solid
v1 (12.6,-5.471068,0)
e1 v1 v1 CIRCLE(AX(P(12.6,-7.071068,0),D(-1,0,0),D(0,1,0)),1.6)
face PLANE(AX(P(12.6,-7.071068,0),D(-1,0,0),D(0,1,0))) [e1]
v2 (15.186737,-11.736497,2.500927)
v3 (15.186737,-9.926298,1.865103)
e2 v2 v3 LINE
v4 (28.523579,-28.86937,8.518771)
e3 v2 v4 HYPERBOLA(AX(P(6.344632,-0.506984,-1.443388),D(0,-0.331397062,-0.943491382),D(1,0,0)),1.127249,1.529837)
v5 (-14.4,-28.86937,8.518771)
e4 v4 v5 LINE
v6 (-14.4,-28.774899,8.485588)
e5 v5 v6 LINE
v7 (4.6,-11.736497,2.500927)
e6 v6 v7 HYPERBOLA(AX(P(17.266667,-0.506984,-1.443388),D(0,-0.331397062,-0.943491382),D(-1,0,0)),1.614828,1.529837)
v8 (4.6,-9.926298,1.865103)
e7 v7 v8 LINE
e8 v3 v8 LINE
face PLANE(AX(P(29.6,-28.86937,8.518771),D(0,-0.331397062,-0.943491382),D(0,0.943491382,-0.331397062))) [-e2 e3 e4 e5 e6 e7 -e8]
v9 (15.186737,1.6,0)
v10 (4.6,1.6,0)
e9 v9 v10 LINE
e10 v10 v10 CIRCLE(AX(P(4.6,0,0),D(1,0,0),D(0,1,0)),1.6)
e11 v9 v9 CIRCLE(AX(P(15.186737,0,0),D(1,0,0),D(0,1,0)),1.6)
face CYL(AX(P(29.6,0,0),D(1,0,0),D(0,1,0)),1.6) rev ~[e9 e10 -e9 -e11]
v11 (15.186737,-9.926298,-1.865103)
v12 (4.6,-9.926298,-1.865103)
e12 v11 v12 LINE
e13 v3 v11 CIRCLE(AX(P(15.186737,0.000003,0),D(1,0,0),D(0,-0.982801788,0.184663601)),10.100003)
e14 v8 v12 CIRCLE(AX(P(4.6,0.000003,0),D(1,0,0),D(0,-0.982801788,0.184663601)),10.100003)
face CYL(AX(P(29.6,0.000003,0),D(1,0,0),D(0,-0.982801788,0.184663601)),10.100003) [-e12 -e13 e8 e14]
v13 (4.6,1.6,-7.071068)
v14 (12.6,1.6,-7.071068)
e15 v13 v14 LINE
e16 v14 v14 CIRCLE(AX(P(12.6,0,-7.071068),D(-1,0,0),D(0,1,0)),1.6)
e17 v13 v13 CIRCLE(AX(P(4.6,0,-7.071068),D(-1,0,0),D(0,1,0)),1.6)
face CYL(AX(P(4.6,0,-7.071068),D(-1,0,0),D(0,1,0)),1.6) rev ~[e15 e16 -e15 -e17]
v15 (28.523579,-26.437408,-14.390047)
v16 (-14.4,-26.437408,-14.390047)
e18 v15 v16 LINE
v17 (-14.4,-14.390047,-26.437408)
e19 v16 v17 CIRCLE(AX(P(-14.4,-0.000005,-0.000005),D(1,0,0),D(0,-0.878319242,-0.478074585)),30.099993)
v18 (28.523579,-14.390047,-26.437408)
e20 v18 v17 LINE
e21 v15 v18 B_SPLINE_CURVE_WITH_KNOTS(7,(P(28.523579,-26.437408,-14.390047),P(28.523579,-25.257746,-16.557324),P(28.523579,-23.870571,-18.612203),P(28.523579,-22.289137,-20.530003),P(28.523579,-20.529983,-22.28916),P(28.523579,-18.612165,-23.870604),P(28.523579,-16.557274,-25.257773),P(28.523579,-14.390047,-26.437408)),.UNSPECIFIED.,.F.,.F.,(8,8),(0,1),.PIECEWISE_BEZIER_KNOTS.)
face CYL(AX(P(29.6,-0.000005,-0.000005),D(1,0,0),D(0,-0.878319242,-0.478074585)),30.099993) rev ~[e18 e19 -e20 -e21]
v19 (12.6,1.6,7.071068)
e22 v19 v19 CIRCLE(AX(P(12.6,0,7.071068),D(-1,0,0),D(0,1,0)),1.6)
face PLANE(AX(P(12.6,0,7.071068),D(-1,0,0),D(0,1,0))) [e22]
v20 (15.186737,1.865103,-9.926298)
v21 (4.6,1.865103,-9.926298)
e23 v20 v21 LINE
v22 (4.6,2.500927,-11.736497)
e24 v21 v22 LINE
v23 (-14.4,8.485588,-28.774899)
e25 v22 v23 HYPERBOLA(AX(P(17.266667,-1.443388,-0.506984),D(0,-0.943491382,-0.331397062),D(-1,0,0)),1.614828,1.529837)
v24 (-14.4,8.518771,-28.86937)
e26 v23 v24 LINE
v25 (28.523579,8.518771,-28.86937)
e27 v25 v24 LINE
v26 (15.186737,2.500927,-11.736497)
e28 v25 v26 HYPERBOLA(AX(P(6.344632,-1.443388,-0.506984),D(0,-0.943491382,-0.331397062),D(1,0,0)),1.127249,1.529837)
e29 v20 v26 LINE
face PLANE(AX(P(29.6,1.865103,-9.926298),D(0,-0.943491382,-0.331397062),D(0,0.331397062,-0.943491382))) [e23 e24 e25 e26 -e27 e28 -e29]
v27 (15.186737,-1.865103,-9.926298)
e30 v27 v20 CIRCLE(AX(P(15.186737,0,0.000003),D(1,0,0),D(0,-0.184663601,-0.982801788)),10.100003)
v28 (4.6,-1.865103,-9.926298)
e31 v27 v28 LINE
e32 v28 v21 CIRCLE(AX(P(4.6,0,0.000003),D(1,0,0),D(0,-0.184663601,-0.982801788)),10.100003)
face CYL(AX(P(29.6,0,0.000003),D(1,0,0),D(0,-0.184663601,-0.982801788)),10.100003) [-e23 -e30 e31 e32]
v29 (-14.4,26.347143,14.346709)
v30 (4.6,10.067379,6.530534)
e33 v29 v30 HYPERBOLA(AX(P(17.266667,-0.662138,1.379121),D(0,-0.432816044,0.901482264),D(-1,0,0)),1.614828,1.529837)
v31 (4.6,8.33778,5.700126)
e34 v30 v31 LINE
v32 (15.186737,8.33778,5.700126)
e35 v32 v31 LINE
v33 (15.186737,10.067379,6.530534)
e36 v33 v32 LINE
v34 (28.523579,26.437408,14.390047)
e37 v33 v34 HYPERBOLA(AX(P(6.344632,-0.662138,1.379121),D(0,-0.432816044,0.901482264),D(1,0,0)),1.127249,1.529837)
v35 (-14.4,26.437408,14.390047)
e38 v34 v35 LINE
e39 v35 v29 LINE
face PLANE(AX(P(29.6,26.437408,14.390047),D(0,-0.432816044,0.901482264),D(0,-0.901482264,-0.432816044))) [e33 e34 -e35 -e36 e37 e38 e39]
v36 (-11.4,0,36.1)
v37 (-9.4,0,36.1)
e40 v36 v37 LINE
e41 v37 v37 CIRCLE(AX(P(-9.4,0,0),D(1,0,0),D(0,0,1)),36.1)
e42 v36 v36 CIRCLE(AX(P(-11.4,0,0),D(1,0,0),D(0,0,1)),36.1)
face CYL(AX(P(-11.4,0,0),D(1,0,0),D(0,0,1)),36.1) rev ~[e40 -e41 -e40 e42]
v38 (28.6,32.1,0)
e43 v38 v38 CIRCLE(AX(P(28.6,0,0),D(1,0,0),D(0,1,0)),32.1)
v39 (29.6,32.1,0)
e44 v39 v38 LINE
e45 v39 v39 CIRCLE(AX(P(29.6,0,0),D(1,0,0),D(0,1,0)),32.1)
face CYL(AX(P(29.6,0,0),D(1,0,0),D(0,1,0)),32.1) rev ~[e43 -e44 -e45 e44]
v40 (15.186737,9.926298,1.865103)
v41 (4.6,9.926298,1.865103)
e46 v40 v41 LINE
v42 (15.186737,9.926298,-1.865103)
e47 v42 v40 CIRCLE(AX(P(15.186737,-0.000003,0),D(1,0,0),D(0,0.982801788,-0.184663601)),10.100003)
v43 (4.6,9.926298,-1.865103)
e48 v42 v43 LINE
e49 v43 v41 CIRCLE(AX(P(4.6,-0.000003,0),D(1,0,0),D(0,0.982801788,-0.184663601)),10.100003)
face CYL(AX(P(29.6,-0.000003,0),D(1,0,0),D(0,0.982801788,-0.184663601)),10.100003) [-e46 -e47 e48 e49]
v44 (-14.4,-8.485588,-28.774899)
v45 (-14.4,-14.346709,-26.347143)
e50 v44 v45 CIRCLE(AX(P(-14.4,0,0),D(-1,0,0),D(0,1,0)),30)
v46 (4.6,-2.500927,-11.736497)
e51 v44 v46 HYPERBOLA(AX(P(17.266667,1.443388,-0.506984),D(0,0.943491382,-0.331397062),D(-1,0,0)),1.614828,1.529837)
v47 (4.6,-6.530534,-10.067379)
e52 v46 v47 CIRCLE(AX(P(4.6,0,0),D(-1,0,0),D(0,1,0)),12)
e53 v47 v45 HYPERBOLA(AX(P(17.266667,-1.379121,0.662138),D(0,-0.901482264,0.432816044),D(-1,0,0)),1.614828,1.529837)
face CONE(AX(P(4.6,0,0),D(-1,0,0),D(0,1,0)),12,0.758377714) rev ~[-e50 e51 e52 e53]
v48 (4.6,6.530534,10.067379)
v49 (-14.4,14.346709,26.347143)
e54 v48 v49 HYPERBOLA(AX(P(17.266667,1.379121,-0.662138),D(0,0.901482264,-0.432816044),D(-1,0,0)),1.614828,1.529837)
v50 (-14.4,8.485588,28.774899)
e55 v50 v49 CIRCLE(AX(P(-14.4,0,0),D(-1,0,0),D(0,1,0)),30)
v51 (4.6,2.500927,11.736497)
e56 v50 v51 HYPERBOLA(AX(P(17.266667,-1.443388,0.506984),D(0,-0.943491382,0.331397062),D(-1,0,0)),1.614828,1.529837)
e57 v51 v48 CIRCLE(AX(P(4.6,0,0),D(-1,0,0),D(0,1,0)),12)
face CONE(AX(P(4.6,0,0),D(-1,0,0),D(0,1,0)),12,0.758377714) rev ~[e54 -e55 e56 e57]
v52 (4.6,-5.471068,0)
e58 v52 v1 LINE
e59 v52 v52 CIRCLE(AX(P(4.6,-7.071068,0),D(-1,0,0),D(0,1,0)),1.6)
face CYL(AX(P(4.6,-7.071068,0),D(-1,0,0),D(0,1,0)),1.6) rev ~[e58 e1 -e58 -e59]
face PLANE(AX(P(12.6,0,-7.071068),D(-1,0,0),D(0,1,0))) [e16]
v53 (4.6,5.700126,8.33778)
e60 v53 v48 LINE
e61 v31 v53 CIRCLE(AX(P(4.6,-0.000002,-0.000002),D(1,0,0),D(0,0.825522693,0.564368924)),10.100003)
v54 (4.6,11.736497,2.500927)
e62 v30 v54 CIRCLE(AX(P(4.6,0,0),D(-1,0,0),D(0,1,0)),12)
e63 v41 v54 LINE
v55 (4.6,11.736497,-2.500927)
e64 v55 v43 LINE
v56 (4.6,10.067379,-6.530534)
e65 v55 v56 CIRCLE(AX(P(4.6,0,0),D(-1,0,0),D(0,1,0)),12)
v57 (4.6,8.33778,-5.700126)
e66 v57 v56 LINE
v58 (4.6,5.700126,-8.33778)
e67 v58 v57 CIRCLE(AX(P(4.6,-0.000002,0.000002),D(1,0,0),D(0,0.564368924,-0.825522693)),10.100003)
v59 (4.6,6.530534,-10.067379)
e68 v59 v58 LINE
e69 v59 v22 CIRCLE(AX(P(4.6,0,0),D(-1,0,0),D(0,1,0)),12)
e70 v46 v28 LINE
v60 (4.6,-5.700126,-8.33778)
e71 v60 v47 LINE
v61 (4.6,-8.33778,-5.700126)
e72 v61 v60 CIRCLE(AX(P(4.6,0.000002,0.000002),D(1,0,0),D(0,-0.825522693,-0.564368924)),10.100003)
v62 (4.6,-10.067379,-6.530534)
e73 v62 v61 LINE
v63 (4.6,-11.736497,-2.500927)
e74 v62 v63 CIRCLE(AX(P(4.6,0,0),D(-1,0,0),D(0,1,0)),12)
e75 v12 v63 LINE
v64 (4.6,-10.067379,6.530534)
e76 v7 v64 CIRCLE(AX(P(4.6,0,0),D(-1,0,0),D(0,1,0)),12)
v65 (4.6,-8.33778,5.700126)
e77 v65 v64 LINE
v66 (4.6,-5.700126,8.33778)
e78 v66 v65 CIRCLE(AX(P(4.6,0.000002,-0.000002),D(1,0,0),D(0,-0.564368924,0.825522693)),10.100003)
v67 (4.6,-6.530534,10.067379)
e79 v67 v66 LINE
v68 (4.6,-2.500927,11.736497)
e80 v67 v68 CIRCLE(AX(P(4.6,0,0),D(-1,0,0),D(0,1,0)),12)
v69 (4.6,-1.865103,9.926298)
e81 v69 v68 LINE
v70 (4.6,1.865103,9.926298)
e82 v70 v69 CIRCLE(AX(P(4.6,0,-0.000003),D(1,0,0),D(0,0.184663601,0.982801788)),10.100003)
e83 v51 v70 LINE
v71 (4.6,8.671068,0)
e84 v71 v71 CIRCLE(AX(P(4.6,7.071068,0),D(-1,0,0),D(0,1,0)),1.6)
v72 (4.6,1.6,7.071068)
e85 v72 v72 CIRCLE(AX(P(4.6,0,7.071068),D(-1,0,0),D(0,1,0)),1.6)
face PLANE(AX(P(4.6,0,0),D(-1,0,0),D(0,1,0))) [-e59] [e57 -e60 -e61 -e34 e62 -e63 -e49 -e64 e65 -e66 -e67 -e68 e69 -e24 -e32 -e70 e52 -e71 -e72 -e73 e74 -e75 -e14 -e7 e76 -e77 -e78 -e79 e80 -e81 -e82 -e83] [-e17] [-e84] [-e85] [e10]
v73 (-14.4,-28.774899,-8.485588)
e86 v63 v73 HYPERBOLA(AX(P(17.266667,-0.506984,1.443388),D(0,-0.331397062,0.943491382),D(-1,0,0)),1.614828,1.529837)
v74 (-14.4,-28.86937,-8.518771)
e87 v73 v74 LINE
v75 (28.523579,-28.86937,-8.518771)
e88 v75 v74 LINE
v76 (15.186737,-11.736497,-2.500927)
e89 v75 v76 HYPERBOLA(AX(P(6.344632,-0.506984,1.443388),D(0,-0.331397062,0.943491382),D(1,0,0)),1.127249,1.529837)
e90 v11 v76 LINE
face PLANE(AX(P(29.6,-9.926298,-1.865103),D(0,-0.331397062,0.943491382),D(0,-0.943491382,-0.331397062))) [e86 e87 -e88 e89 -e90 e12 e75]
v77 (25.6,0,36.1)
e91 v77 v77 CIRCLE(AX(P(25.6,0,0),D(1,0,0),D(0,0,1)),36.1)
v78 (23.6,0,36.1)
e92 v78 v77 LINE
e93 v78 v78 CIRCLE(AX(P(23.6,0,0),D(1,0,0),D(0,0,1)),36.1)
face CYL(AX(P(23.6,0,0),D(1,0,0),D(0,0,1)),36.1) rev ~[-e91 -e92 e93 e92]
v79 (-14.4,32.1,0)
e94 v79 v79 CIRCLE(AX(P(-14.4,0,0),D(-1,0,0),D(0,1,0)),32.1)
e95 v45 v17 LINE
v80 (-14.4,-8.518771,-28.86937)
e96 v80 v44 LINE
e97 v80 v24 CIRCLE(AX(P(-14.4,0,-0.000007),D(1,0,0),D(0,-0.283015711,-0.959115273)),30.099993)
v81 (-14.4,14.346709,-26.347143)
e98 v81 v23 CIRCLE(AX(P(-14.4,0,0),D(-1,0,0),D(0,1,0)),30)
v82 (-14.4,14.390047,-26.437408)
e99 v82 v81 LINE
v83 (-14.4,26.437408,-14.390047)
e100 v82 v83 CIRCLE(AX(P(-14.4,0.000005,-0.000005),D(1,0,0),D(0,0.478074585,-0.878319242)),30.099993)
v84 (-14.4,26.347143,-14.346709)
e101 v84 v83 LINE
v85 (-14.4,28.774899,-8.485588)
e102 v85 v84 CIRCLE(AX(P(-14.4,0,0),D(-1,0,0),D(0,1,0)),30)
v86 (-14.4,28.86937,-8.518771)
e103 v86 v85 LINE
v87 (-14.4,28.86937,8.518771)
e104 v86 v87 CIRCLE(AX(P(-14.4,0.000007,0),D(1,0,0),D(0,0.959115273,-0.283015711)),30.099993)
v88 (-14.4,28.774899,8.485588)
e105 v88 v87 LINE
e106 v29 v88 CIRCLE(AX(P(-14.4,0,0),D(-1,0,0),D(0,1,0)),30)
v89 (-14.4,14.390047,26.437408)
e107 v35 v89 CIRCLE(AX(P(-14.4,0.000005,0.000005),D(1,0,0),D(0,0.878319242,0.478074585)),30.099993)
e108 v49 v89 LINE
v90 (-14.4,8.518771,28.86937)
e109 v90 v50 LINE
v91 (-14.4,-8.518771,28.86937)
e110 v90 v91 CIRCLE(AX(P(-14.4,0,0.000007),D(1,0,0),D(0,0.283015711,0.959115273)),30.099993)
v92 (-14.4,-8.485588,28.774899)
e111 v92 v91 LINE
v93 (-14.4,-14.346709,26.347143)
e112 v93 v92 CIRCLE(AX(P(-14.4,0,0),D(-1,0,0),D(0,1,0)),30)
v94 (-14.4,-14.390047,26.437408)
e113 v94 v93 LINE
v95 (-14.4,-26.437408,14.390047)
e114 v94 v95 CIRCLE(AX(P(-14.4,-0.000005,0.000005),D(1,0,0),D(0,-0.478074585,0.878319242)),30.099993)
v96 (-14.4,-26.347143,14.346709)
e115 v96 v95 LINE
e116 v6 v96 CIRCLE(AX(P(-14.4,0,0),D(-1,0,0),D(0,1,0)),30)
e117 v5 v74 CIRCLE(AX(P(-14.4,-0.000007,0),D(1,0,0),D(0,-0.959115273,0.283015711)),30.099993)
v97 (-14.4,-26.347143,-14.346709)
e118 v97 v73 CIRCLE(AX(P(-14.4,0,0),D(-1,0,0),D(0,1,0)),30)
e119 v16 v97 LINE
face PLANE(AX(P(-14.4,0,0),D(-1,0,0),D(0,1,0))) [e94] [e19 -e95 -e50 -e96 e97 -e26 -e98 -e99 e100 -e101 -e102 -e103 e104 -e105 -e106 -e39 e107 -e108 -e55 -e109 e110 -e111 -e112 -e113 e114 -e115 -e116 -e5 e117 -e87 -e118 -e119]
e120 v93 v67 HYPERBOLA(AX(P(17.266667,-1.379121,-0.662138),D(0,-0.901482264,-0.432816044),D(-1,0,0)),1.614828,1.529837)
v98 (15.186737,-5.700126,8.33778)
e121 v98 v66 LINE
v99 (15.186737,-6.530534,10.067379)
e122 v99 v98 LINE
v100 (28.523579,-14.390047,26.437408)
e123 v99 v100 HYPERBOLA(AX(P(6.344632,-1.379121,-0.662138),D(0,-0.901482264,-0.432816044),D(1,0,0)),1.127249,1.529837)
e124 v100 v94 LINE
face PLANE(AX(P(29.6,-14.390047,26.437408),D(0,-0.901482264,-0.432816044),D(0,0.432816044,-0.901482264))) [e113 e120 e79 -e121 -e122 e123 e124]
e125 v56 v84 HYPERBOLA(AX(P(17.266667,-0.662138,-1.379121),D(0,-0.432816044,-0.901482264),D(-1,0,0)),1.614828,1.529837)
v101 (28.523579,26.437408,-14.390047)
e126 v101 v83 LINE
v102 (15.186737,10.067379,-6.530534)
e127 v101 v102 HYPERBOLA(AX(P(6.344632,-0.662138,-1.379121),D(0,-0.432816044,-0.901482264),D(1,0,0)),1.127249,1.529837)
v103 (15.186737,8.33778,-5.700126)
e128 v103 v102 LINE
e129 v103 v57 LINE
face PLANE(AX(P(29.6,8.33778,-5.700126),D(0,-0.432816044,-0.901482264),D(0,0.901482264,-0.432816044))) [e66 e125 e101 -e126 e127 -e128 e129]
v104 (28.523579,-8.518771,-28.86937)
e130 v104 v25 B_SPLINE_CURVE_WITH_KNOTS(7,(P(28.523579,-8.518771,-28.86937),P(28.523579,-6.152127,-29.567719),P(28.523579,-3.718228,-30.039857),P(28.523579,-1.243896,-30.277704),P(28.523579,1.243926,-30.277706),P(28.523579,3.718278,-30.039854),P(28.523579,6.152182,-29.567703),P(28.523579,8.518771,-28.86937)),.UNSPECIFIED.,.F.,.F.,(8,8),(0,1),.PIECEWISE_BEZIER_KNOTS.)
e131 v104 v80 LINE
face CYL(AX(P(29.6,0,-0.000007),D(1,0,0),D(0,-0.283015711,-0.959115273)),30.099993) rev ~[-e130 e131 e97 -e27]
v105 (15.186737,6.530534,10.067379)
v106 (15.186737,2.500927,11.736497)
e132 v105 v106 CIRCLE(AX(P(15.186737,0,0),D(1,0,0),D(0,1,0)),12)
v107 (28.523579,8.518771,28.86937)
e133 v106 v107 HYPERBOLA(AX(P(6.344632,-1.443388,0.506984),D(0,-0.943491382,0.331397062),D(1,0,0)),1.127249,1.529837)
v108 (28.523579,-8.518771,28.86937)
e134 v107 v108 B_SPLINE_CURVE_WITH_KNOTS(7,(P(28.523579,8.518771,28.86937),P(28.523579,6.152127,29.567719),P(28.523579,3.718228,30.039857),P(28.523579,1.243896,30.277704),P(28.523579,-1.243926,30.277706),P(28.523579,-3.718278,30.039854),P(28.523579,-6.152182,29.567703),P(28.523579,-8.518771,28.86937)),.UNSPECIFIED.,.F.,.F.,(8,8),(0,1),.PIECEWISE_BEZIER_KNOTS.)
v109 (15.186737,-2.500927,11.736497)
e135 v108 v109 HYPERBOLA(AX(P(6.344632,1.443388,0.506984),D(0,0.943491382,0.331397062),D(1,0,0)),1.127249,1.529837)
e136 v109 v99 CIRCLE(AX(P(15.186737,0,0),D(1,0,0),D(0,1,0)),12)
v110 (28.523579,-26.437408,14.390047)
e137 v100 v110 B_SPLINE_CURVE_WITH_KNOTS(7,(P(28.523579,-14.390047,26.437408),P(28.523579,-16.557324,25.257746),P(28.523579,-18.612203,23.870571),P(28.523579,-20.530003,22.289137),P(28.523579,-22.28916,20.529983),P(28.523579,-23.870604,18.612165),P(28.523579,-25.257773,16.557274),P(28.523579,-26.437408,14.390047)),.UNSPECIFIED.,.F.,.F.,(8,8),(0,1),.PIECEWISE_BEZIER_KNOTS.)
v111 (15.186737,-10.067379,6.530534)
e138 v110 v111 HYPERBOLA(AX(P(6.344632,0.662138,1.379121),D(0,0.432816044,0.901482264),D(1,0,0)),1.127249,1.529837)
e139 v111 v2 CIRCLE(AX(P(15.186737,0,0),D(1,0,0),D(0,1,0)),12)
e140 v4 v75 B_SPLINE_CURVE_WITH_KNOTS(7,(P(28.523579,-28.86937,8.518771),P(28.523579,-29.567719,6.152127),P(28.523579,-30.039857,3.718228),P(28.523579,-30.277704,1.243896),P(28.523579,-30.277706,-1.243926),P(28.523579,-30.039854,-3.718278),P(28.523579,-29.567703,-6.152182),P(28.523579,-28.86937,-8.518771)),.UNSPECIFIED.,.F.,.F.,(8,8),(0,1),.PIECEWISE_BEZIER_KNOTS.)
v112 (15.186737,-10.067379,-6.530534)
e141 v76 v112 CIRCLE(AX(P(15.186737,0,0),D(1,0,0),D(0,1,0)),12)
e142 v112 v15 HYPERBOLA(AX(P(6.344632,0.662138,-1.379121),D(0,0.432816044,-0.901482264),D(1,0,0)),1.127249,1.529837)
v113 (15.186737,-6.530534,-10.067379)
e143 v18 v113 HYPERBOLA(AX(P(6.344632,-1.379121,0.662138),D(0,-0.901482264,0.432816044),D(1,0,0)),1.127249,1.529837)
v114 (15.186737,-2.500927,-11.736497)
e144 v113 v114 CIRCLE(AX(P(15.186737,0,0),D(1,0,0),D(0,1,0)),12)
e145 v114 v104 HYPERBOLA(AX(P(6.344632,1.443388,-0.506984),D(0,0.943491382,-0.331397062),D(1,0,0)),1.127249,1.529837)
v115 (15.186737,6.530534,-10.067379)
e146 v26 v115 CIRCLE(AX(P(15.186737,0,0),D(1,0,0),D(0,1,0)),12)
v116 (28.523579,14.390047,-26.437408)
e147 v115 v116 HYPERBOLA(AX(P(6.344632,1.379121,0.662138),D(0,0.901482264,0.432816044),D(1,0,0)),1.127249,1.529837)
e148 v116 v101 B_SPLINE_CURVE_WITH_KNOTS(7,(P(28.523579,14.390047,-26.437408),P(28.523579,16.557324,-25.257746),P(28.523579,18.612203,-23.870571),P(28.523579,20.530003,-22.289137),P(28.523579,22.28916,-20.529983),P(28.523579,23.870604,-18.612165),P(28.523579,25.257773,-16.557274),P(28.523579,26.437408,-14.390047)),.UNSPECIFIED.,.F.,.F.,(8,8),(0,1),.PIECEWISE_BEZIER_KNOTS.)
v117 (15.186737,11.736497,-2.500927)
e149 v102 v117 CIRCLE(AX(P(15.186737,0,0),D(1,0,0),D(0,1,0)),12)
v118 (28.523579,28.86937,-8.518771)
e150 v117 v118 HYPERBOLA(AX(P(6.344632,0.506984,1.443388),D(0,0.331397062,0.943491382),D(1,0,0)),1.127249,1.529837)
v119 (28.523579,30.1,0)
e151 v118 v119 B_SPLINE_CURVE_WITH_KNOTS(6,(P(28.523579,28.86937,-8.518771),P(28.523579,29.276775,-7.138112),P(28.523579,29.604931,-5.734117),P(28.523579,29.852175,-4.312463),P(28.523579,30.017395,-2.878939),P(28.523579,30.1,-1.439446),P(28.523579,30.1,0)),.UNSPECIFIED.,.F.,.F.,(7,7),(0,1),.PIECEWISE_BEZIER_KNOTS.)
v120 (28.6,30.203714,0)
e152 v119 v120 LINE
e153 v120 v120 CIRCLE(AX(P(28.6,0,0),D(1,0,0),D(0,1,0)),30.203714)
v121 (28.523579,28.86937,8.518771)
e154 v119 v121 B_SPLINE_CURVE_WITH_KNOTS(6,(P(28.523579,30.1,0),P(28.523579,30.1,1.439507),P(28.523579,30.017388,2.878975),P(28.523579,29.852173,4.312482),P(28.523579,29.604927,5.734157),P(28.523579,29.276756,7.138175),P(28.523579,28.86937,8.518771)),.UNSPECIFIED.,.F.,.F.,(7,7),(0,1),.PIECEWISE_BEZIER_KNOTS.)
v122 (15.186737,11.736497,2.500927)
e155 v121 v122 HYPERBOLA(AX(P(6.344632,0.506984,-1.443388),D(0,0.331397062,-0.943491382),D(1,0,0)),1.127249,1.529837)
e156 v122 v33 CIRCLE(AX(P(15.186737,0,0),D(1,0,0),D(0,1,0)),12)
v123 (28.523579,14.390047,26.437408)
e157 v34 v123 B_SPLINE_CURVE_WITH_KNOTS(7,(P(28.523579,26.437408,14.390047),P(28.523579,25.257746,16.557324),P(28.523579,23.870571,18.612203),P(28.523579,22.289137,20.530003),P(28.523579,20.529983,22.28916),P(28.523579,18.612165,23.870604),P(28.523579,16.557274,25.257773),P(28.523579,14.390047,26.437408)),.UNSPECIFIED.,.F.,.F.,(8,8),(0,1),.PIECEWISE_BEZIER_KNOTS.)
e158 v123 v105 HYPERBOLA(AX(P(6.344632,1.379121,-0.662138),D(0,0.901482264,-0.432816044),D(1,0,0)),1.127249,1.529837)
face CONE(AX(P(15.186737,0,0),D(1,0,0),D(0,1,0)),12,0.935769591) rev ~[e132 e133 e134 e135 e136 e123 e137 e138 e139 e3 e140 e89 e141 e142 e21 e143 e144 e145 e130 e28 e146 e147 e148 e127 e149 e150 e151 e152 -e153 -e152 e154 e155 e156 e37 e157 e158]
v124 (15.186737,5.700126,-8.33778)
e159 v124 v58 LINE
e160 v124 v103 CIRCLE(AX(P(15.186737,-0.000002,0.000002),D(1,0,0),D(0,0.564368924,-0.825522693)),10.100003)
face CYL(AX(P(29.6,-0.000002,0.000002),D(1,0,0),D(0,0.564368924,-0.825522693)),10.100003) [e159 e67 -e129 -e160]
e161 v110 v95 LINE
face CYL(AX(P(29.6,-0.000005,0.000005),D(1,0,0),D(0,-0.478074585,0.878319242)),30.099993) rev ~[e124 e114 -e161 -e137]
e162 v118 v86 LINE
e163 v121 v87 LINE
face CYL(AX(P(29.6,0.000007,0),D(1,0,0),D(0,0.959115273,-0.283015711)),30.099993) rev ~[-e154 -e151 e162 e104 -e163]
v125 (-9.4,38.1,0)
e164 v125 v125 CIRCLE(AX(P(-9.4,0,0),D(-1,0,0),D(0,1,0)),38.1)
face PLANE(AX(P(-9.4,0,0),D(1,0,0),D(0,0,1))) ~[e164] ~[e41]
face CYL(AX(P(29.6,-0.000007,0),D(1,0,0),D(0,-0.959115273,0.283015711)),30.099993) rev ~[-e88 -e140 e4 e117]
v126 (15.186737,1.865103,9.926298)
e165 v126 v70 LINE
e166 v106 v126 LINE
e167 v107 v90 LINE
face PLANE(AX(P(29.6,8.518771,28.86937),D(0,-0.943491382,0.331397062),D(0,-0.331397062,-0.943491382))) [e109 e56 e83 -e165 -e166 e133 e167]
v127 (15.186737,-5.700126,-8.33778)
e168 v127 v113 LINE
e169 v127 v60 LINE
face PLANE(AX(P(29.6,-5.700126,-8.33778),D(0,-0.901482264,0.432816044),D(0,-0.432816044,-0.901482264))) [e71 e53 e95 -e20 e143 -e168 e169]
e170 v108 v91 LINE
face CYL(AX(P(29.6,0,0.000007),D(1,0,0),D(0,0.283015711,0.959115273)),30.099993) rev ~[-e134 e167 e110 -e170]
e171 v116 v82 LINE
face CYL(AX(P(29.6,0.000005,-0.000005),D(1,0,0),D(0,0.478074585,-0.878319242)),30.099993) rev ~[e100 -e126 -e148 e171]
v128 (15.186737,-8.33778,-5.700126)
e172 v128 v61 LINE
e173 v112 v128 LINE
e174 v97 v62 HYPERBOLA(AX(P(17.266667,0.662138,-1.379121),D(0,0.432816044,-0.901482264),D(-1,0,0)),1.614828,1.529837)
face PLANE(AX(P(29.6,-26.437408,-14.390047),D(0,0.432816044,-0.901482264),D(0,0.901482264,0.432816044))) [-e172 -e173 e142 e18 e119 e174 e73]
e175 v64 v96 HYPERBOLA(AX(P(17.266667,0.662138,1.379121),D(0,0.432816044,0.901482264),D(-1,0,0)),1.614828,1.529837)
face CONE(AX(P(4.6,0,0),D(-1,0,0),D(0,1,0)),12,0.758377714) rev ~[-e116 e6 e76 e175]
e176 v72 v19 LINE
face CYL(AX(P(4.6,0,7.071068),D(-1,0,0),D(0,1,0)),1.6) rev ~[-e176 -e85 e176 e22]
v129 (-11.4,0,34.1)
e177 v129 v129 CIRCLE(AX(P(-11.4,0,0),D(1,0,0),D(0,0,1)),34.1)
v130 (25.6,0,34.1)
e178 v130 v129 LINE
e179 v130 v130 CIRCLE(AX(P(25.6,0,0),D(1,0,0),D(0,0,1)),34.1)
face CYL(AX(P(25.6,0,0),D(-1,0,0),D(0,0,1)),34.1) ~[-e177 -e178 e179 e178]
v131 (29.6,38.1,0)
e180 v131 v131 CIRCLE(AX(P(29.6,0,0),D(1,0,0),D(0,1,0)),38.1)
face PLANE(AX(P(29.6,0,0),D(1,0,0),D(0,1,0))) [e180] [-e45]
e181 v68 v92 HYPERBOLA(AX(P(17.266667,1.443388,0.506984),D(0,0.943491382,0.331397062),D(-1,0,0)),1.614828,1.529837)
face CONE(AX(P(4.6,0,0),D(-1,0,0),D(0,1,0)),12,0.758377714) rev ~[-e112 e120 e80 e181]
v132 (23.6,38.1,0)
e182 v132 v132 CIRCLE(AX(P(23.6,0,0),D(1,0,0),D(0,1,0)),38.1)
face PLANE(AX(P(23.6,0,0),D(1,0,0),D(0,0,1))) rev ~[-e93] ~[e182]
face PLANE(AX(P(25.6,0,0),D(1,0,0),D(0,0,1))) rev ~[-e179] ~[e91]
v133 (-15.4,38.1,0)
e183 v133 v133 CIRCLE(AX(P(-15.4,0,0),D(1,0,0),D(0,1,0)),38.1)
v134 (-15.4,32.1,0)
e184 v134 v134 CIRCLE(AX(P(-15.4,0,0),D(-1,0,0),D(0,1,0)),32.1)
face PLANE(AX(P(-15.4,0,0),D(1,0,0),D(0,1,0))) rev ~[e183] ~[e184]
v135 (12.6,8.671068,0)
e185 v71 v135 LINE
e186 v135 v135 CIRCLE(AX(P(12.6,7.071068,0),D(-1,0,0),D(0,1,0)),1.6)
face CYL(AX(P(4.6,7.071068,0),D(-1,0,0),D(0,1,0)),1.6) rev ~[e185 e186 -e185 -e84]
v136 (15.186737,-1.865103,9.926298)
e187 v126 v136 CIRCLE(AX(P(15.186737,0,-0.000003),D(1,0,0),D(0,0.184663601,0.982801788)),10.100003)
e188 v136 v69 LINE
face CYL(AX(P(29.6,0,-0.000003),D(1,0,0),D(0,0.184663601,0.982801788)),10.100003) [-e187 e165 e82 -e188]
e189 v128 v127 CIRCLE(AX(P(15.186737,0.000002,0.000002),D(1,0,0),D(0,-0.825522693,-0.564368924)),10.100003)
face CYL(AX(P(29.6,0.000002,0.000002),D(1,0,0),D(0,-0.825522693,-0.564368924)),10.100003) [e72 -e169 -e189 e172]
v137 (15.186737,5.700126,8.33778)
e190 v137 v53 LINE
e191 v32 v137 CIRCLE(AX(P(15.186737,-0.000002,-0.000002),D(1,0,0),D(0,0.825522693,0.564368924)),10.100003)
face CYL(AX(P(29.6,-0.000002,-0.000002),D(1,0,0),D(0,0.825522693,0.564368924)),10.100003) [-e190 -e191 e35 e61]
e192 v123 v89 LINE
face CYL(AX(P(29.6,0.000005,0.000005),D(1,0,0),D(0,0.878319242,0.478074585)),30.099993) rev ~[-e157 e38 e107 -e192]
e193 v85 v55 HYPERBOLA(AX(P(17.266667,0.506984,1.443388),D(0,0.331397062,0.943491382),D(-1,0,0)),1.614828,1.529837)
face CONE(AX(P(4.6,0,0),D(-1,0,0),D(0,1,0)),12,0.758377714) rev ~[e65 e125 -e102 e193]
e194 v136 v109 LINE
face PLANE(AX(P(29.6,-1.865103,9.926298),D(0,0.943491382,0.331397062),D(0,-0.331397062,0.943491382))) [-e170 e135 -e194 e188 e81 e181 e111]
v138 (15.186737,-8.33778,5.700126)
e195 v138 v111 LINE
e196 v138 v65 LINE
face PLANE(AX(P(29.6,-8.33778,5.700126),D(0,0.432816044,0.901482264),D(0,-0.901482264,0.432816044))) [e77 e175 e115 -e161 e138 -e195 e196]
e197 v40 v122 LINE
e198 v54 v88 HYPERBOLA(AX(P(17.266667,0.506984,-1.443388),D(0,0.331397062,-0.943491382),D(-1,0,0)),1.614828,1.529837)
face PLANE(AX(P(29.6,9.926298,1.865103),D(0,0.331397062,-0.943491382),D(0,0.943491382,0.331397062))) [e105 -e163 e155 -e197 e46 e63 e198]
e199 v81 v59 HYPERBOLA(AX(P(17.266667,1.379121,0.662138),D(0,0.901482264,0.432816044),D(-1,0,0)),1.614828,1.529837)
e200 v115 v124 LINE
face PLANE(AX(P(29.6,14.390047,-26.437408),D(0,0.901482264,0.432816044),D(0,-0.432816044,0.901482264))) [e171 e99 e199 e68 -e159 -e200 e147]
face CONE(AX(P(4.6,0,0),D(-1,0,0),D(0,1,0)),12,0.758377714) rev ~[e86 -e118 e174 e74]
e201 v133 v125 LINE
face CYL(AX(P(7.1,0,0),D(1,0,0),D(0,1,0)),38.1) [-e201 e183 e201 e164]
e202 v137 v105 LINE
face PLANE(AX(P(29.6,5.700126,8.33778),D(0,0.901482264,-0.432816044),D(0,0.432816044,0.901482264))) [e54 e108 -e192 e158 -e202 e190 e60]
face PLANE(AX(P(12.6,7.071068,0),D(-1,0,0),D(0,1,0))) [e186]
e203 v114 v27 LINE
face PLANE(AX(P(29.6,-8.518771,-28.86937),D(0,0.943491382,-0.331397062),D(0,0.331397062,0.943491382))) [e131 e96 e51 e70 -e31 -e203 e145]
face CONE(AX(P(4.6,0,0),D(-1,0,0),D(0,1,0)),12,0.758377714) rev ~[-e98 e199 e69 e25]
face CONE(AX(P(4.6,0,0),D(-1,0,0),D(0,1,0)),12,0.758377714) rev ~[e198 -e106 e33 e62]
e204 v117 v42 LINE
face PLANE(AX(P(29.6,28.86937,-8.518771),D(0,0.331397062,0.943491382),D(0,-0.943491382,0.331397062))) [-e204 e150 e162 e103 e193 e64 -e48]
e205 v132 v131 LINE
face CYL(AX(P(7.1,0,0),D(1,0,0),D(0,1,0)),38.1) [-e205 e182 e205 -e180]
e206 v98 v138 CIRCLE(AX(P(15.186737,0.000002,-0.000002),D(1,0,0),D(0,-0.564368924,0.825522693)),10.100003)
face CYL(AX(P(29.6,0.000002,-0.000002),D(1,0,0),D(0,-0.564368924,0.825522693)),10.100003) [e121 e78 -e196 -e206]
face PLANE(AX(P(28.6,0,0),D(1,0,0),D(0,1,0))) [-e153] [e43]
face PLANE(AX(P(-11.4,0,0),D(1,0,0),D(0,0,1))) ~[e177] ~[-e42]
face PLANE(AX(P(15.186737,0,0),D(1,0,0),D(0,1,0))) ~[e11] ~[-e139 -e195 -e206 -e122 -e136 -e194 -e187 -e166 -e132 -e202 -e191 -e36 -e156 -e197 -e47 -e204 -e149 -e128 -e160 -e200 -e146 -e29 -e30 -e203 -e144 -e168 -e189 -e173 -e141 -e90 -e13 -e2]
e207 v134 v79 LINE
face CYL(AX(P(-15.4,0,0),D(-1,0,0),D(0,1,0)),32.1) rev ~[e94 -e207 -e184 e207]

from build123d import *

# Parameters (mm, degrees)
SKETCH027_R          = 38.1
PAD009_DEPTH         = 22.5
POCKET015_DEPTH      = 278.563668
POCKET015_DEPTH_BACK = -233.563668
POLARPATTERN_COUNT   = 8
SKETCH029_R          = 1.6
POCKET016_DEPTH      = 45.001
POCKET016_DEPTH_BACK = -0.001
SKETCH030_R          = 32.1
POCKET017_DEPTH      = 1
SKETCH031_R          = 12
POCKET018_DEPTH      = 19
SKETCH034_R          = 32.1
POCKET019_DEPTH      = 1
SKETCH035_R          = 8
POCKET020_DEPTH      = 13
SKETCH069_R          = 1.6
POCKET040_DEPTH      = 8


with BuildPart() as part:
    # Sketch027 → Pad009 (new body, symmetric)
    with BuildSketch(Plane.YZ):
        Circle(SKETCH027_R)
    extrude(amount=PAD009_DEPTH, both=True)

    # Sketch028 (on Face3 of Pad009) → Pocket015 (cut, two sides)
    with BuildSketch(Plane.YZ.offset(22.5)) as pocket015_sk:
        with BuildLine():
            ThreePointArc((1.865103, 9.926298), (0, 10.1), (-1.865103, 9.926298))
            Line((-1.865103, 9.926298), (-8.518771, 28.86937))
            ThreePointArc((8.518771, 28.86937), (0, 30.1), (-8.518771, 28.86937))
            Line((8.518771, 28.86937), (1.865103, 9.926298))
        make_face()
    pocket015 = extrude(amount=-POCKET015_DEPTH, mode=Mode.SUBTRACT)
    extrude(pocket015_sk.sketch, amount=-POCKET015_DEPTH_BACK, mode=Mode.SUBTRACT)

    # PolarPattern: Pocket015 ×8 about axis
    polarpattern_axis = Axis((22.5, 0, 0), (1, 0, 0))
    for i in range(1, POLARPATTERN_COUNT):
        add(pocket015.rotate(polarpattern_axis, i * 360 / POLARPATTERN_COUNT), mode=Mode.SUBTRACT)

    # Sketch029 (on Face3 of PolarPattern) → Pocket016 (cut, two sides)
    with BuildSketch(Plane.YZ.offset(22.5)) as pocket016_sk:
        Circle(SKETCH029_R)
    extrude(amount=-POCKET016_DEPTH, mode=Mode.SUBTRACT)
    extrude(pocket016_sk.sketch, amount=-POCKET016_DEPTH_BACK, mode=Mode.SUBTRACT)

    # Sketch030 (on Face2 of Pocket016) → Pocket017 (cut)
    with BuildSketch(Plane(origin=(-22.5, 0, 0), x_dir=(0, 1, 0), z_dir=(-1, 0, 0))):
        Circle(SKETCH030_R)
    extrude(amount=-POCKET017_DEPTH, mode=Mode.SUBTRACT)

    # Sketch031 (on Face38 of Pocket017) → Pocket018 (cut)
    with BuildSketch(Plane(origin=(-21.5, 0, 0), x_dir=(0, 1, 0), z_dir=(-1, 0, 0))):
        Circle(SKETCH031_R)
    extrude(amount=-POCKET018_DEPTH, mode=Mode.SUBTRACT)

    # Sketch033 → Groove (revolve, cut)
    with BuildSketch(Plane.XZ):
        Polygon((-16.5, 38.1), (16.5, 38.1), (16.5, 36.1), (18.5, 36.1), (18.5, 34.1), (-18.5, 34.1), (-18.5, 36.1), (-16.5, 36.1), align=None)
    revolve(axis=Axis((0, 0, 0), (1, 0, 0)), mode=Mode.SUBTRACT)

    # Sketch034 (on Face41 of Groove) → Pocket019 (cut)
    with BuildSketch(Plane.YZ.offset(22.5)):
        Circle(SKETCH034_R)
    extrude(amount=-POCKET019_DEPTH, mode=Mode.SUBTRACT)

    # Sketch035 (on Face41 of Pocket019) → Pocket020 (cut)
    with BuildSketch(Plane.YZ.offset(21.5)):
        Circle(SKETCH035_R)
    extrude(amount=-POCKET020_DEPTH, mode=Mode.SUBTRACT)

    # Cone → Cone (revolve, cut)
    with BuildSketch(Plane(origin=(8.086737, 0, 0), x_dir=(0, 1, 0), z_dir=(0, 0, -1))):
        Polygon((0, 0), (12, 0), (31, 14), (0, 14), align=None)
    revolve(axis=Axis((8.086737, 0, 0), (1, 0, 0)), mode=Mode.SUBTRACT)

    # Cone001 → Cone001 (revolve, cut)
    with BuildSketch(Plane(origin=(-2.5, 0, 0), x_dir=(0, 1, 0), z_dir=(0, 0, 1))):
        Polygon((0, 0), (12, 0), (30, 19), (0, 19), align=None)
    revolve(axis=Axis((-2.5, 0, 0), (-1, 0, 0)), mode=Mode.SUBTRACT)

    # Sketch069 (on Face42 of Cone001) → Pocket040 (cut)
    with BuildSketch(Plane(origin=(-2.5, 0, 0), x_dir=(0, 1, 0), z_dir=(-1, 0, 0))):
        with Locations((-7.071068, 0)):
            Circle(SKETCH069_R)
        with Locations((0, 7.071068)):
            Circle(SKETCH069_R)
        with Locations((7.071068, 0)):
            Circle(SKETCH069_R)
        with Locations((0, -7.071068)):
            Circle(SKETCH069_R)
    extrude(amount=-POCKET040_DEPTH, mode=Mode.SUBTRACT)


with BuildPart() as part_1:
    # Body006 placement: moved
    add(part.part.moved(Location((7.1, 0, 0))))


solid = part_1.part
